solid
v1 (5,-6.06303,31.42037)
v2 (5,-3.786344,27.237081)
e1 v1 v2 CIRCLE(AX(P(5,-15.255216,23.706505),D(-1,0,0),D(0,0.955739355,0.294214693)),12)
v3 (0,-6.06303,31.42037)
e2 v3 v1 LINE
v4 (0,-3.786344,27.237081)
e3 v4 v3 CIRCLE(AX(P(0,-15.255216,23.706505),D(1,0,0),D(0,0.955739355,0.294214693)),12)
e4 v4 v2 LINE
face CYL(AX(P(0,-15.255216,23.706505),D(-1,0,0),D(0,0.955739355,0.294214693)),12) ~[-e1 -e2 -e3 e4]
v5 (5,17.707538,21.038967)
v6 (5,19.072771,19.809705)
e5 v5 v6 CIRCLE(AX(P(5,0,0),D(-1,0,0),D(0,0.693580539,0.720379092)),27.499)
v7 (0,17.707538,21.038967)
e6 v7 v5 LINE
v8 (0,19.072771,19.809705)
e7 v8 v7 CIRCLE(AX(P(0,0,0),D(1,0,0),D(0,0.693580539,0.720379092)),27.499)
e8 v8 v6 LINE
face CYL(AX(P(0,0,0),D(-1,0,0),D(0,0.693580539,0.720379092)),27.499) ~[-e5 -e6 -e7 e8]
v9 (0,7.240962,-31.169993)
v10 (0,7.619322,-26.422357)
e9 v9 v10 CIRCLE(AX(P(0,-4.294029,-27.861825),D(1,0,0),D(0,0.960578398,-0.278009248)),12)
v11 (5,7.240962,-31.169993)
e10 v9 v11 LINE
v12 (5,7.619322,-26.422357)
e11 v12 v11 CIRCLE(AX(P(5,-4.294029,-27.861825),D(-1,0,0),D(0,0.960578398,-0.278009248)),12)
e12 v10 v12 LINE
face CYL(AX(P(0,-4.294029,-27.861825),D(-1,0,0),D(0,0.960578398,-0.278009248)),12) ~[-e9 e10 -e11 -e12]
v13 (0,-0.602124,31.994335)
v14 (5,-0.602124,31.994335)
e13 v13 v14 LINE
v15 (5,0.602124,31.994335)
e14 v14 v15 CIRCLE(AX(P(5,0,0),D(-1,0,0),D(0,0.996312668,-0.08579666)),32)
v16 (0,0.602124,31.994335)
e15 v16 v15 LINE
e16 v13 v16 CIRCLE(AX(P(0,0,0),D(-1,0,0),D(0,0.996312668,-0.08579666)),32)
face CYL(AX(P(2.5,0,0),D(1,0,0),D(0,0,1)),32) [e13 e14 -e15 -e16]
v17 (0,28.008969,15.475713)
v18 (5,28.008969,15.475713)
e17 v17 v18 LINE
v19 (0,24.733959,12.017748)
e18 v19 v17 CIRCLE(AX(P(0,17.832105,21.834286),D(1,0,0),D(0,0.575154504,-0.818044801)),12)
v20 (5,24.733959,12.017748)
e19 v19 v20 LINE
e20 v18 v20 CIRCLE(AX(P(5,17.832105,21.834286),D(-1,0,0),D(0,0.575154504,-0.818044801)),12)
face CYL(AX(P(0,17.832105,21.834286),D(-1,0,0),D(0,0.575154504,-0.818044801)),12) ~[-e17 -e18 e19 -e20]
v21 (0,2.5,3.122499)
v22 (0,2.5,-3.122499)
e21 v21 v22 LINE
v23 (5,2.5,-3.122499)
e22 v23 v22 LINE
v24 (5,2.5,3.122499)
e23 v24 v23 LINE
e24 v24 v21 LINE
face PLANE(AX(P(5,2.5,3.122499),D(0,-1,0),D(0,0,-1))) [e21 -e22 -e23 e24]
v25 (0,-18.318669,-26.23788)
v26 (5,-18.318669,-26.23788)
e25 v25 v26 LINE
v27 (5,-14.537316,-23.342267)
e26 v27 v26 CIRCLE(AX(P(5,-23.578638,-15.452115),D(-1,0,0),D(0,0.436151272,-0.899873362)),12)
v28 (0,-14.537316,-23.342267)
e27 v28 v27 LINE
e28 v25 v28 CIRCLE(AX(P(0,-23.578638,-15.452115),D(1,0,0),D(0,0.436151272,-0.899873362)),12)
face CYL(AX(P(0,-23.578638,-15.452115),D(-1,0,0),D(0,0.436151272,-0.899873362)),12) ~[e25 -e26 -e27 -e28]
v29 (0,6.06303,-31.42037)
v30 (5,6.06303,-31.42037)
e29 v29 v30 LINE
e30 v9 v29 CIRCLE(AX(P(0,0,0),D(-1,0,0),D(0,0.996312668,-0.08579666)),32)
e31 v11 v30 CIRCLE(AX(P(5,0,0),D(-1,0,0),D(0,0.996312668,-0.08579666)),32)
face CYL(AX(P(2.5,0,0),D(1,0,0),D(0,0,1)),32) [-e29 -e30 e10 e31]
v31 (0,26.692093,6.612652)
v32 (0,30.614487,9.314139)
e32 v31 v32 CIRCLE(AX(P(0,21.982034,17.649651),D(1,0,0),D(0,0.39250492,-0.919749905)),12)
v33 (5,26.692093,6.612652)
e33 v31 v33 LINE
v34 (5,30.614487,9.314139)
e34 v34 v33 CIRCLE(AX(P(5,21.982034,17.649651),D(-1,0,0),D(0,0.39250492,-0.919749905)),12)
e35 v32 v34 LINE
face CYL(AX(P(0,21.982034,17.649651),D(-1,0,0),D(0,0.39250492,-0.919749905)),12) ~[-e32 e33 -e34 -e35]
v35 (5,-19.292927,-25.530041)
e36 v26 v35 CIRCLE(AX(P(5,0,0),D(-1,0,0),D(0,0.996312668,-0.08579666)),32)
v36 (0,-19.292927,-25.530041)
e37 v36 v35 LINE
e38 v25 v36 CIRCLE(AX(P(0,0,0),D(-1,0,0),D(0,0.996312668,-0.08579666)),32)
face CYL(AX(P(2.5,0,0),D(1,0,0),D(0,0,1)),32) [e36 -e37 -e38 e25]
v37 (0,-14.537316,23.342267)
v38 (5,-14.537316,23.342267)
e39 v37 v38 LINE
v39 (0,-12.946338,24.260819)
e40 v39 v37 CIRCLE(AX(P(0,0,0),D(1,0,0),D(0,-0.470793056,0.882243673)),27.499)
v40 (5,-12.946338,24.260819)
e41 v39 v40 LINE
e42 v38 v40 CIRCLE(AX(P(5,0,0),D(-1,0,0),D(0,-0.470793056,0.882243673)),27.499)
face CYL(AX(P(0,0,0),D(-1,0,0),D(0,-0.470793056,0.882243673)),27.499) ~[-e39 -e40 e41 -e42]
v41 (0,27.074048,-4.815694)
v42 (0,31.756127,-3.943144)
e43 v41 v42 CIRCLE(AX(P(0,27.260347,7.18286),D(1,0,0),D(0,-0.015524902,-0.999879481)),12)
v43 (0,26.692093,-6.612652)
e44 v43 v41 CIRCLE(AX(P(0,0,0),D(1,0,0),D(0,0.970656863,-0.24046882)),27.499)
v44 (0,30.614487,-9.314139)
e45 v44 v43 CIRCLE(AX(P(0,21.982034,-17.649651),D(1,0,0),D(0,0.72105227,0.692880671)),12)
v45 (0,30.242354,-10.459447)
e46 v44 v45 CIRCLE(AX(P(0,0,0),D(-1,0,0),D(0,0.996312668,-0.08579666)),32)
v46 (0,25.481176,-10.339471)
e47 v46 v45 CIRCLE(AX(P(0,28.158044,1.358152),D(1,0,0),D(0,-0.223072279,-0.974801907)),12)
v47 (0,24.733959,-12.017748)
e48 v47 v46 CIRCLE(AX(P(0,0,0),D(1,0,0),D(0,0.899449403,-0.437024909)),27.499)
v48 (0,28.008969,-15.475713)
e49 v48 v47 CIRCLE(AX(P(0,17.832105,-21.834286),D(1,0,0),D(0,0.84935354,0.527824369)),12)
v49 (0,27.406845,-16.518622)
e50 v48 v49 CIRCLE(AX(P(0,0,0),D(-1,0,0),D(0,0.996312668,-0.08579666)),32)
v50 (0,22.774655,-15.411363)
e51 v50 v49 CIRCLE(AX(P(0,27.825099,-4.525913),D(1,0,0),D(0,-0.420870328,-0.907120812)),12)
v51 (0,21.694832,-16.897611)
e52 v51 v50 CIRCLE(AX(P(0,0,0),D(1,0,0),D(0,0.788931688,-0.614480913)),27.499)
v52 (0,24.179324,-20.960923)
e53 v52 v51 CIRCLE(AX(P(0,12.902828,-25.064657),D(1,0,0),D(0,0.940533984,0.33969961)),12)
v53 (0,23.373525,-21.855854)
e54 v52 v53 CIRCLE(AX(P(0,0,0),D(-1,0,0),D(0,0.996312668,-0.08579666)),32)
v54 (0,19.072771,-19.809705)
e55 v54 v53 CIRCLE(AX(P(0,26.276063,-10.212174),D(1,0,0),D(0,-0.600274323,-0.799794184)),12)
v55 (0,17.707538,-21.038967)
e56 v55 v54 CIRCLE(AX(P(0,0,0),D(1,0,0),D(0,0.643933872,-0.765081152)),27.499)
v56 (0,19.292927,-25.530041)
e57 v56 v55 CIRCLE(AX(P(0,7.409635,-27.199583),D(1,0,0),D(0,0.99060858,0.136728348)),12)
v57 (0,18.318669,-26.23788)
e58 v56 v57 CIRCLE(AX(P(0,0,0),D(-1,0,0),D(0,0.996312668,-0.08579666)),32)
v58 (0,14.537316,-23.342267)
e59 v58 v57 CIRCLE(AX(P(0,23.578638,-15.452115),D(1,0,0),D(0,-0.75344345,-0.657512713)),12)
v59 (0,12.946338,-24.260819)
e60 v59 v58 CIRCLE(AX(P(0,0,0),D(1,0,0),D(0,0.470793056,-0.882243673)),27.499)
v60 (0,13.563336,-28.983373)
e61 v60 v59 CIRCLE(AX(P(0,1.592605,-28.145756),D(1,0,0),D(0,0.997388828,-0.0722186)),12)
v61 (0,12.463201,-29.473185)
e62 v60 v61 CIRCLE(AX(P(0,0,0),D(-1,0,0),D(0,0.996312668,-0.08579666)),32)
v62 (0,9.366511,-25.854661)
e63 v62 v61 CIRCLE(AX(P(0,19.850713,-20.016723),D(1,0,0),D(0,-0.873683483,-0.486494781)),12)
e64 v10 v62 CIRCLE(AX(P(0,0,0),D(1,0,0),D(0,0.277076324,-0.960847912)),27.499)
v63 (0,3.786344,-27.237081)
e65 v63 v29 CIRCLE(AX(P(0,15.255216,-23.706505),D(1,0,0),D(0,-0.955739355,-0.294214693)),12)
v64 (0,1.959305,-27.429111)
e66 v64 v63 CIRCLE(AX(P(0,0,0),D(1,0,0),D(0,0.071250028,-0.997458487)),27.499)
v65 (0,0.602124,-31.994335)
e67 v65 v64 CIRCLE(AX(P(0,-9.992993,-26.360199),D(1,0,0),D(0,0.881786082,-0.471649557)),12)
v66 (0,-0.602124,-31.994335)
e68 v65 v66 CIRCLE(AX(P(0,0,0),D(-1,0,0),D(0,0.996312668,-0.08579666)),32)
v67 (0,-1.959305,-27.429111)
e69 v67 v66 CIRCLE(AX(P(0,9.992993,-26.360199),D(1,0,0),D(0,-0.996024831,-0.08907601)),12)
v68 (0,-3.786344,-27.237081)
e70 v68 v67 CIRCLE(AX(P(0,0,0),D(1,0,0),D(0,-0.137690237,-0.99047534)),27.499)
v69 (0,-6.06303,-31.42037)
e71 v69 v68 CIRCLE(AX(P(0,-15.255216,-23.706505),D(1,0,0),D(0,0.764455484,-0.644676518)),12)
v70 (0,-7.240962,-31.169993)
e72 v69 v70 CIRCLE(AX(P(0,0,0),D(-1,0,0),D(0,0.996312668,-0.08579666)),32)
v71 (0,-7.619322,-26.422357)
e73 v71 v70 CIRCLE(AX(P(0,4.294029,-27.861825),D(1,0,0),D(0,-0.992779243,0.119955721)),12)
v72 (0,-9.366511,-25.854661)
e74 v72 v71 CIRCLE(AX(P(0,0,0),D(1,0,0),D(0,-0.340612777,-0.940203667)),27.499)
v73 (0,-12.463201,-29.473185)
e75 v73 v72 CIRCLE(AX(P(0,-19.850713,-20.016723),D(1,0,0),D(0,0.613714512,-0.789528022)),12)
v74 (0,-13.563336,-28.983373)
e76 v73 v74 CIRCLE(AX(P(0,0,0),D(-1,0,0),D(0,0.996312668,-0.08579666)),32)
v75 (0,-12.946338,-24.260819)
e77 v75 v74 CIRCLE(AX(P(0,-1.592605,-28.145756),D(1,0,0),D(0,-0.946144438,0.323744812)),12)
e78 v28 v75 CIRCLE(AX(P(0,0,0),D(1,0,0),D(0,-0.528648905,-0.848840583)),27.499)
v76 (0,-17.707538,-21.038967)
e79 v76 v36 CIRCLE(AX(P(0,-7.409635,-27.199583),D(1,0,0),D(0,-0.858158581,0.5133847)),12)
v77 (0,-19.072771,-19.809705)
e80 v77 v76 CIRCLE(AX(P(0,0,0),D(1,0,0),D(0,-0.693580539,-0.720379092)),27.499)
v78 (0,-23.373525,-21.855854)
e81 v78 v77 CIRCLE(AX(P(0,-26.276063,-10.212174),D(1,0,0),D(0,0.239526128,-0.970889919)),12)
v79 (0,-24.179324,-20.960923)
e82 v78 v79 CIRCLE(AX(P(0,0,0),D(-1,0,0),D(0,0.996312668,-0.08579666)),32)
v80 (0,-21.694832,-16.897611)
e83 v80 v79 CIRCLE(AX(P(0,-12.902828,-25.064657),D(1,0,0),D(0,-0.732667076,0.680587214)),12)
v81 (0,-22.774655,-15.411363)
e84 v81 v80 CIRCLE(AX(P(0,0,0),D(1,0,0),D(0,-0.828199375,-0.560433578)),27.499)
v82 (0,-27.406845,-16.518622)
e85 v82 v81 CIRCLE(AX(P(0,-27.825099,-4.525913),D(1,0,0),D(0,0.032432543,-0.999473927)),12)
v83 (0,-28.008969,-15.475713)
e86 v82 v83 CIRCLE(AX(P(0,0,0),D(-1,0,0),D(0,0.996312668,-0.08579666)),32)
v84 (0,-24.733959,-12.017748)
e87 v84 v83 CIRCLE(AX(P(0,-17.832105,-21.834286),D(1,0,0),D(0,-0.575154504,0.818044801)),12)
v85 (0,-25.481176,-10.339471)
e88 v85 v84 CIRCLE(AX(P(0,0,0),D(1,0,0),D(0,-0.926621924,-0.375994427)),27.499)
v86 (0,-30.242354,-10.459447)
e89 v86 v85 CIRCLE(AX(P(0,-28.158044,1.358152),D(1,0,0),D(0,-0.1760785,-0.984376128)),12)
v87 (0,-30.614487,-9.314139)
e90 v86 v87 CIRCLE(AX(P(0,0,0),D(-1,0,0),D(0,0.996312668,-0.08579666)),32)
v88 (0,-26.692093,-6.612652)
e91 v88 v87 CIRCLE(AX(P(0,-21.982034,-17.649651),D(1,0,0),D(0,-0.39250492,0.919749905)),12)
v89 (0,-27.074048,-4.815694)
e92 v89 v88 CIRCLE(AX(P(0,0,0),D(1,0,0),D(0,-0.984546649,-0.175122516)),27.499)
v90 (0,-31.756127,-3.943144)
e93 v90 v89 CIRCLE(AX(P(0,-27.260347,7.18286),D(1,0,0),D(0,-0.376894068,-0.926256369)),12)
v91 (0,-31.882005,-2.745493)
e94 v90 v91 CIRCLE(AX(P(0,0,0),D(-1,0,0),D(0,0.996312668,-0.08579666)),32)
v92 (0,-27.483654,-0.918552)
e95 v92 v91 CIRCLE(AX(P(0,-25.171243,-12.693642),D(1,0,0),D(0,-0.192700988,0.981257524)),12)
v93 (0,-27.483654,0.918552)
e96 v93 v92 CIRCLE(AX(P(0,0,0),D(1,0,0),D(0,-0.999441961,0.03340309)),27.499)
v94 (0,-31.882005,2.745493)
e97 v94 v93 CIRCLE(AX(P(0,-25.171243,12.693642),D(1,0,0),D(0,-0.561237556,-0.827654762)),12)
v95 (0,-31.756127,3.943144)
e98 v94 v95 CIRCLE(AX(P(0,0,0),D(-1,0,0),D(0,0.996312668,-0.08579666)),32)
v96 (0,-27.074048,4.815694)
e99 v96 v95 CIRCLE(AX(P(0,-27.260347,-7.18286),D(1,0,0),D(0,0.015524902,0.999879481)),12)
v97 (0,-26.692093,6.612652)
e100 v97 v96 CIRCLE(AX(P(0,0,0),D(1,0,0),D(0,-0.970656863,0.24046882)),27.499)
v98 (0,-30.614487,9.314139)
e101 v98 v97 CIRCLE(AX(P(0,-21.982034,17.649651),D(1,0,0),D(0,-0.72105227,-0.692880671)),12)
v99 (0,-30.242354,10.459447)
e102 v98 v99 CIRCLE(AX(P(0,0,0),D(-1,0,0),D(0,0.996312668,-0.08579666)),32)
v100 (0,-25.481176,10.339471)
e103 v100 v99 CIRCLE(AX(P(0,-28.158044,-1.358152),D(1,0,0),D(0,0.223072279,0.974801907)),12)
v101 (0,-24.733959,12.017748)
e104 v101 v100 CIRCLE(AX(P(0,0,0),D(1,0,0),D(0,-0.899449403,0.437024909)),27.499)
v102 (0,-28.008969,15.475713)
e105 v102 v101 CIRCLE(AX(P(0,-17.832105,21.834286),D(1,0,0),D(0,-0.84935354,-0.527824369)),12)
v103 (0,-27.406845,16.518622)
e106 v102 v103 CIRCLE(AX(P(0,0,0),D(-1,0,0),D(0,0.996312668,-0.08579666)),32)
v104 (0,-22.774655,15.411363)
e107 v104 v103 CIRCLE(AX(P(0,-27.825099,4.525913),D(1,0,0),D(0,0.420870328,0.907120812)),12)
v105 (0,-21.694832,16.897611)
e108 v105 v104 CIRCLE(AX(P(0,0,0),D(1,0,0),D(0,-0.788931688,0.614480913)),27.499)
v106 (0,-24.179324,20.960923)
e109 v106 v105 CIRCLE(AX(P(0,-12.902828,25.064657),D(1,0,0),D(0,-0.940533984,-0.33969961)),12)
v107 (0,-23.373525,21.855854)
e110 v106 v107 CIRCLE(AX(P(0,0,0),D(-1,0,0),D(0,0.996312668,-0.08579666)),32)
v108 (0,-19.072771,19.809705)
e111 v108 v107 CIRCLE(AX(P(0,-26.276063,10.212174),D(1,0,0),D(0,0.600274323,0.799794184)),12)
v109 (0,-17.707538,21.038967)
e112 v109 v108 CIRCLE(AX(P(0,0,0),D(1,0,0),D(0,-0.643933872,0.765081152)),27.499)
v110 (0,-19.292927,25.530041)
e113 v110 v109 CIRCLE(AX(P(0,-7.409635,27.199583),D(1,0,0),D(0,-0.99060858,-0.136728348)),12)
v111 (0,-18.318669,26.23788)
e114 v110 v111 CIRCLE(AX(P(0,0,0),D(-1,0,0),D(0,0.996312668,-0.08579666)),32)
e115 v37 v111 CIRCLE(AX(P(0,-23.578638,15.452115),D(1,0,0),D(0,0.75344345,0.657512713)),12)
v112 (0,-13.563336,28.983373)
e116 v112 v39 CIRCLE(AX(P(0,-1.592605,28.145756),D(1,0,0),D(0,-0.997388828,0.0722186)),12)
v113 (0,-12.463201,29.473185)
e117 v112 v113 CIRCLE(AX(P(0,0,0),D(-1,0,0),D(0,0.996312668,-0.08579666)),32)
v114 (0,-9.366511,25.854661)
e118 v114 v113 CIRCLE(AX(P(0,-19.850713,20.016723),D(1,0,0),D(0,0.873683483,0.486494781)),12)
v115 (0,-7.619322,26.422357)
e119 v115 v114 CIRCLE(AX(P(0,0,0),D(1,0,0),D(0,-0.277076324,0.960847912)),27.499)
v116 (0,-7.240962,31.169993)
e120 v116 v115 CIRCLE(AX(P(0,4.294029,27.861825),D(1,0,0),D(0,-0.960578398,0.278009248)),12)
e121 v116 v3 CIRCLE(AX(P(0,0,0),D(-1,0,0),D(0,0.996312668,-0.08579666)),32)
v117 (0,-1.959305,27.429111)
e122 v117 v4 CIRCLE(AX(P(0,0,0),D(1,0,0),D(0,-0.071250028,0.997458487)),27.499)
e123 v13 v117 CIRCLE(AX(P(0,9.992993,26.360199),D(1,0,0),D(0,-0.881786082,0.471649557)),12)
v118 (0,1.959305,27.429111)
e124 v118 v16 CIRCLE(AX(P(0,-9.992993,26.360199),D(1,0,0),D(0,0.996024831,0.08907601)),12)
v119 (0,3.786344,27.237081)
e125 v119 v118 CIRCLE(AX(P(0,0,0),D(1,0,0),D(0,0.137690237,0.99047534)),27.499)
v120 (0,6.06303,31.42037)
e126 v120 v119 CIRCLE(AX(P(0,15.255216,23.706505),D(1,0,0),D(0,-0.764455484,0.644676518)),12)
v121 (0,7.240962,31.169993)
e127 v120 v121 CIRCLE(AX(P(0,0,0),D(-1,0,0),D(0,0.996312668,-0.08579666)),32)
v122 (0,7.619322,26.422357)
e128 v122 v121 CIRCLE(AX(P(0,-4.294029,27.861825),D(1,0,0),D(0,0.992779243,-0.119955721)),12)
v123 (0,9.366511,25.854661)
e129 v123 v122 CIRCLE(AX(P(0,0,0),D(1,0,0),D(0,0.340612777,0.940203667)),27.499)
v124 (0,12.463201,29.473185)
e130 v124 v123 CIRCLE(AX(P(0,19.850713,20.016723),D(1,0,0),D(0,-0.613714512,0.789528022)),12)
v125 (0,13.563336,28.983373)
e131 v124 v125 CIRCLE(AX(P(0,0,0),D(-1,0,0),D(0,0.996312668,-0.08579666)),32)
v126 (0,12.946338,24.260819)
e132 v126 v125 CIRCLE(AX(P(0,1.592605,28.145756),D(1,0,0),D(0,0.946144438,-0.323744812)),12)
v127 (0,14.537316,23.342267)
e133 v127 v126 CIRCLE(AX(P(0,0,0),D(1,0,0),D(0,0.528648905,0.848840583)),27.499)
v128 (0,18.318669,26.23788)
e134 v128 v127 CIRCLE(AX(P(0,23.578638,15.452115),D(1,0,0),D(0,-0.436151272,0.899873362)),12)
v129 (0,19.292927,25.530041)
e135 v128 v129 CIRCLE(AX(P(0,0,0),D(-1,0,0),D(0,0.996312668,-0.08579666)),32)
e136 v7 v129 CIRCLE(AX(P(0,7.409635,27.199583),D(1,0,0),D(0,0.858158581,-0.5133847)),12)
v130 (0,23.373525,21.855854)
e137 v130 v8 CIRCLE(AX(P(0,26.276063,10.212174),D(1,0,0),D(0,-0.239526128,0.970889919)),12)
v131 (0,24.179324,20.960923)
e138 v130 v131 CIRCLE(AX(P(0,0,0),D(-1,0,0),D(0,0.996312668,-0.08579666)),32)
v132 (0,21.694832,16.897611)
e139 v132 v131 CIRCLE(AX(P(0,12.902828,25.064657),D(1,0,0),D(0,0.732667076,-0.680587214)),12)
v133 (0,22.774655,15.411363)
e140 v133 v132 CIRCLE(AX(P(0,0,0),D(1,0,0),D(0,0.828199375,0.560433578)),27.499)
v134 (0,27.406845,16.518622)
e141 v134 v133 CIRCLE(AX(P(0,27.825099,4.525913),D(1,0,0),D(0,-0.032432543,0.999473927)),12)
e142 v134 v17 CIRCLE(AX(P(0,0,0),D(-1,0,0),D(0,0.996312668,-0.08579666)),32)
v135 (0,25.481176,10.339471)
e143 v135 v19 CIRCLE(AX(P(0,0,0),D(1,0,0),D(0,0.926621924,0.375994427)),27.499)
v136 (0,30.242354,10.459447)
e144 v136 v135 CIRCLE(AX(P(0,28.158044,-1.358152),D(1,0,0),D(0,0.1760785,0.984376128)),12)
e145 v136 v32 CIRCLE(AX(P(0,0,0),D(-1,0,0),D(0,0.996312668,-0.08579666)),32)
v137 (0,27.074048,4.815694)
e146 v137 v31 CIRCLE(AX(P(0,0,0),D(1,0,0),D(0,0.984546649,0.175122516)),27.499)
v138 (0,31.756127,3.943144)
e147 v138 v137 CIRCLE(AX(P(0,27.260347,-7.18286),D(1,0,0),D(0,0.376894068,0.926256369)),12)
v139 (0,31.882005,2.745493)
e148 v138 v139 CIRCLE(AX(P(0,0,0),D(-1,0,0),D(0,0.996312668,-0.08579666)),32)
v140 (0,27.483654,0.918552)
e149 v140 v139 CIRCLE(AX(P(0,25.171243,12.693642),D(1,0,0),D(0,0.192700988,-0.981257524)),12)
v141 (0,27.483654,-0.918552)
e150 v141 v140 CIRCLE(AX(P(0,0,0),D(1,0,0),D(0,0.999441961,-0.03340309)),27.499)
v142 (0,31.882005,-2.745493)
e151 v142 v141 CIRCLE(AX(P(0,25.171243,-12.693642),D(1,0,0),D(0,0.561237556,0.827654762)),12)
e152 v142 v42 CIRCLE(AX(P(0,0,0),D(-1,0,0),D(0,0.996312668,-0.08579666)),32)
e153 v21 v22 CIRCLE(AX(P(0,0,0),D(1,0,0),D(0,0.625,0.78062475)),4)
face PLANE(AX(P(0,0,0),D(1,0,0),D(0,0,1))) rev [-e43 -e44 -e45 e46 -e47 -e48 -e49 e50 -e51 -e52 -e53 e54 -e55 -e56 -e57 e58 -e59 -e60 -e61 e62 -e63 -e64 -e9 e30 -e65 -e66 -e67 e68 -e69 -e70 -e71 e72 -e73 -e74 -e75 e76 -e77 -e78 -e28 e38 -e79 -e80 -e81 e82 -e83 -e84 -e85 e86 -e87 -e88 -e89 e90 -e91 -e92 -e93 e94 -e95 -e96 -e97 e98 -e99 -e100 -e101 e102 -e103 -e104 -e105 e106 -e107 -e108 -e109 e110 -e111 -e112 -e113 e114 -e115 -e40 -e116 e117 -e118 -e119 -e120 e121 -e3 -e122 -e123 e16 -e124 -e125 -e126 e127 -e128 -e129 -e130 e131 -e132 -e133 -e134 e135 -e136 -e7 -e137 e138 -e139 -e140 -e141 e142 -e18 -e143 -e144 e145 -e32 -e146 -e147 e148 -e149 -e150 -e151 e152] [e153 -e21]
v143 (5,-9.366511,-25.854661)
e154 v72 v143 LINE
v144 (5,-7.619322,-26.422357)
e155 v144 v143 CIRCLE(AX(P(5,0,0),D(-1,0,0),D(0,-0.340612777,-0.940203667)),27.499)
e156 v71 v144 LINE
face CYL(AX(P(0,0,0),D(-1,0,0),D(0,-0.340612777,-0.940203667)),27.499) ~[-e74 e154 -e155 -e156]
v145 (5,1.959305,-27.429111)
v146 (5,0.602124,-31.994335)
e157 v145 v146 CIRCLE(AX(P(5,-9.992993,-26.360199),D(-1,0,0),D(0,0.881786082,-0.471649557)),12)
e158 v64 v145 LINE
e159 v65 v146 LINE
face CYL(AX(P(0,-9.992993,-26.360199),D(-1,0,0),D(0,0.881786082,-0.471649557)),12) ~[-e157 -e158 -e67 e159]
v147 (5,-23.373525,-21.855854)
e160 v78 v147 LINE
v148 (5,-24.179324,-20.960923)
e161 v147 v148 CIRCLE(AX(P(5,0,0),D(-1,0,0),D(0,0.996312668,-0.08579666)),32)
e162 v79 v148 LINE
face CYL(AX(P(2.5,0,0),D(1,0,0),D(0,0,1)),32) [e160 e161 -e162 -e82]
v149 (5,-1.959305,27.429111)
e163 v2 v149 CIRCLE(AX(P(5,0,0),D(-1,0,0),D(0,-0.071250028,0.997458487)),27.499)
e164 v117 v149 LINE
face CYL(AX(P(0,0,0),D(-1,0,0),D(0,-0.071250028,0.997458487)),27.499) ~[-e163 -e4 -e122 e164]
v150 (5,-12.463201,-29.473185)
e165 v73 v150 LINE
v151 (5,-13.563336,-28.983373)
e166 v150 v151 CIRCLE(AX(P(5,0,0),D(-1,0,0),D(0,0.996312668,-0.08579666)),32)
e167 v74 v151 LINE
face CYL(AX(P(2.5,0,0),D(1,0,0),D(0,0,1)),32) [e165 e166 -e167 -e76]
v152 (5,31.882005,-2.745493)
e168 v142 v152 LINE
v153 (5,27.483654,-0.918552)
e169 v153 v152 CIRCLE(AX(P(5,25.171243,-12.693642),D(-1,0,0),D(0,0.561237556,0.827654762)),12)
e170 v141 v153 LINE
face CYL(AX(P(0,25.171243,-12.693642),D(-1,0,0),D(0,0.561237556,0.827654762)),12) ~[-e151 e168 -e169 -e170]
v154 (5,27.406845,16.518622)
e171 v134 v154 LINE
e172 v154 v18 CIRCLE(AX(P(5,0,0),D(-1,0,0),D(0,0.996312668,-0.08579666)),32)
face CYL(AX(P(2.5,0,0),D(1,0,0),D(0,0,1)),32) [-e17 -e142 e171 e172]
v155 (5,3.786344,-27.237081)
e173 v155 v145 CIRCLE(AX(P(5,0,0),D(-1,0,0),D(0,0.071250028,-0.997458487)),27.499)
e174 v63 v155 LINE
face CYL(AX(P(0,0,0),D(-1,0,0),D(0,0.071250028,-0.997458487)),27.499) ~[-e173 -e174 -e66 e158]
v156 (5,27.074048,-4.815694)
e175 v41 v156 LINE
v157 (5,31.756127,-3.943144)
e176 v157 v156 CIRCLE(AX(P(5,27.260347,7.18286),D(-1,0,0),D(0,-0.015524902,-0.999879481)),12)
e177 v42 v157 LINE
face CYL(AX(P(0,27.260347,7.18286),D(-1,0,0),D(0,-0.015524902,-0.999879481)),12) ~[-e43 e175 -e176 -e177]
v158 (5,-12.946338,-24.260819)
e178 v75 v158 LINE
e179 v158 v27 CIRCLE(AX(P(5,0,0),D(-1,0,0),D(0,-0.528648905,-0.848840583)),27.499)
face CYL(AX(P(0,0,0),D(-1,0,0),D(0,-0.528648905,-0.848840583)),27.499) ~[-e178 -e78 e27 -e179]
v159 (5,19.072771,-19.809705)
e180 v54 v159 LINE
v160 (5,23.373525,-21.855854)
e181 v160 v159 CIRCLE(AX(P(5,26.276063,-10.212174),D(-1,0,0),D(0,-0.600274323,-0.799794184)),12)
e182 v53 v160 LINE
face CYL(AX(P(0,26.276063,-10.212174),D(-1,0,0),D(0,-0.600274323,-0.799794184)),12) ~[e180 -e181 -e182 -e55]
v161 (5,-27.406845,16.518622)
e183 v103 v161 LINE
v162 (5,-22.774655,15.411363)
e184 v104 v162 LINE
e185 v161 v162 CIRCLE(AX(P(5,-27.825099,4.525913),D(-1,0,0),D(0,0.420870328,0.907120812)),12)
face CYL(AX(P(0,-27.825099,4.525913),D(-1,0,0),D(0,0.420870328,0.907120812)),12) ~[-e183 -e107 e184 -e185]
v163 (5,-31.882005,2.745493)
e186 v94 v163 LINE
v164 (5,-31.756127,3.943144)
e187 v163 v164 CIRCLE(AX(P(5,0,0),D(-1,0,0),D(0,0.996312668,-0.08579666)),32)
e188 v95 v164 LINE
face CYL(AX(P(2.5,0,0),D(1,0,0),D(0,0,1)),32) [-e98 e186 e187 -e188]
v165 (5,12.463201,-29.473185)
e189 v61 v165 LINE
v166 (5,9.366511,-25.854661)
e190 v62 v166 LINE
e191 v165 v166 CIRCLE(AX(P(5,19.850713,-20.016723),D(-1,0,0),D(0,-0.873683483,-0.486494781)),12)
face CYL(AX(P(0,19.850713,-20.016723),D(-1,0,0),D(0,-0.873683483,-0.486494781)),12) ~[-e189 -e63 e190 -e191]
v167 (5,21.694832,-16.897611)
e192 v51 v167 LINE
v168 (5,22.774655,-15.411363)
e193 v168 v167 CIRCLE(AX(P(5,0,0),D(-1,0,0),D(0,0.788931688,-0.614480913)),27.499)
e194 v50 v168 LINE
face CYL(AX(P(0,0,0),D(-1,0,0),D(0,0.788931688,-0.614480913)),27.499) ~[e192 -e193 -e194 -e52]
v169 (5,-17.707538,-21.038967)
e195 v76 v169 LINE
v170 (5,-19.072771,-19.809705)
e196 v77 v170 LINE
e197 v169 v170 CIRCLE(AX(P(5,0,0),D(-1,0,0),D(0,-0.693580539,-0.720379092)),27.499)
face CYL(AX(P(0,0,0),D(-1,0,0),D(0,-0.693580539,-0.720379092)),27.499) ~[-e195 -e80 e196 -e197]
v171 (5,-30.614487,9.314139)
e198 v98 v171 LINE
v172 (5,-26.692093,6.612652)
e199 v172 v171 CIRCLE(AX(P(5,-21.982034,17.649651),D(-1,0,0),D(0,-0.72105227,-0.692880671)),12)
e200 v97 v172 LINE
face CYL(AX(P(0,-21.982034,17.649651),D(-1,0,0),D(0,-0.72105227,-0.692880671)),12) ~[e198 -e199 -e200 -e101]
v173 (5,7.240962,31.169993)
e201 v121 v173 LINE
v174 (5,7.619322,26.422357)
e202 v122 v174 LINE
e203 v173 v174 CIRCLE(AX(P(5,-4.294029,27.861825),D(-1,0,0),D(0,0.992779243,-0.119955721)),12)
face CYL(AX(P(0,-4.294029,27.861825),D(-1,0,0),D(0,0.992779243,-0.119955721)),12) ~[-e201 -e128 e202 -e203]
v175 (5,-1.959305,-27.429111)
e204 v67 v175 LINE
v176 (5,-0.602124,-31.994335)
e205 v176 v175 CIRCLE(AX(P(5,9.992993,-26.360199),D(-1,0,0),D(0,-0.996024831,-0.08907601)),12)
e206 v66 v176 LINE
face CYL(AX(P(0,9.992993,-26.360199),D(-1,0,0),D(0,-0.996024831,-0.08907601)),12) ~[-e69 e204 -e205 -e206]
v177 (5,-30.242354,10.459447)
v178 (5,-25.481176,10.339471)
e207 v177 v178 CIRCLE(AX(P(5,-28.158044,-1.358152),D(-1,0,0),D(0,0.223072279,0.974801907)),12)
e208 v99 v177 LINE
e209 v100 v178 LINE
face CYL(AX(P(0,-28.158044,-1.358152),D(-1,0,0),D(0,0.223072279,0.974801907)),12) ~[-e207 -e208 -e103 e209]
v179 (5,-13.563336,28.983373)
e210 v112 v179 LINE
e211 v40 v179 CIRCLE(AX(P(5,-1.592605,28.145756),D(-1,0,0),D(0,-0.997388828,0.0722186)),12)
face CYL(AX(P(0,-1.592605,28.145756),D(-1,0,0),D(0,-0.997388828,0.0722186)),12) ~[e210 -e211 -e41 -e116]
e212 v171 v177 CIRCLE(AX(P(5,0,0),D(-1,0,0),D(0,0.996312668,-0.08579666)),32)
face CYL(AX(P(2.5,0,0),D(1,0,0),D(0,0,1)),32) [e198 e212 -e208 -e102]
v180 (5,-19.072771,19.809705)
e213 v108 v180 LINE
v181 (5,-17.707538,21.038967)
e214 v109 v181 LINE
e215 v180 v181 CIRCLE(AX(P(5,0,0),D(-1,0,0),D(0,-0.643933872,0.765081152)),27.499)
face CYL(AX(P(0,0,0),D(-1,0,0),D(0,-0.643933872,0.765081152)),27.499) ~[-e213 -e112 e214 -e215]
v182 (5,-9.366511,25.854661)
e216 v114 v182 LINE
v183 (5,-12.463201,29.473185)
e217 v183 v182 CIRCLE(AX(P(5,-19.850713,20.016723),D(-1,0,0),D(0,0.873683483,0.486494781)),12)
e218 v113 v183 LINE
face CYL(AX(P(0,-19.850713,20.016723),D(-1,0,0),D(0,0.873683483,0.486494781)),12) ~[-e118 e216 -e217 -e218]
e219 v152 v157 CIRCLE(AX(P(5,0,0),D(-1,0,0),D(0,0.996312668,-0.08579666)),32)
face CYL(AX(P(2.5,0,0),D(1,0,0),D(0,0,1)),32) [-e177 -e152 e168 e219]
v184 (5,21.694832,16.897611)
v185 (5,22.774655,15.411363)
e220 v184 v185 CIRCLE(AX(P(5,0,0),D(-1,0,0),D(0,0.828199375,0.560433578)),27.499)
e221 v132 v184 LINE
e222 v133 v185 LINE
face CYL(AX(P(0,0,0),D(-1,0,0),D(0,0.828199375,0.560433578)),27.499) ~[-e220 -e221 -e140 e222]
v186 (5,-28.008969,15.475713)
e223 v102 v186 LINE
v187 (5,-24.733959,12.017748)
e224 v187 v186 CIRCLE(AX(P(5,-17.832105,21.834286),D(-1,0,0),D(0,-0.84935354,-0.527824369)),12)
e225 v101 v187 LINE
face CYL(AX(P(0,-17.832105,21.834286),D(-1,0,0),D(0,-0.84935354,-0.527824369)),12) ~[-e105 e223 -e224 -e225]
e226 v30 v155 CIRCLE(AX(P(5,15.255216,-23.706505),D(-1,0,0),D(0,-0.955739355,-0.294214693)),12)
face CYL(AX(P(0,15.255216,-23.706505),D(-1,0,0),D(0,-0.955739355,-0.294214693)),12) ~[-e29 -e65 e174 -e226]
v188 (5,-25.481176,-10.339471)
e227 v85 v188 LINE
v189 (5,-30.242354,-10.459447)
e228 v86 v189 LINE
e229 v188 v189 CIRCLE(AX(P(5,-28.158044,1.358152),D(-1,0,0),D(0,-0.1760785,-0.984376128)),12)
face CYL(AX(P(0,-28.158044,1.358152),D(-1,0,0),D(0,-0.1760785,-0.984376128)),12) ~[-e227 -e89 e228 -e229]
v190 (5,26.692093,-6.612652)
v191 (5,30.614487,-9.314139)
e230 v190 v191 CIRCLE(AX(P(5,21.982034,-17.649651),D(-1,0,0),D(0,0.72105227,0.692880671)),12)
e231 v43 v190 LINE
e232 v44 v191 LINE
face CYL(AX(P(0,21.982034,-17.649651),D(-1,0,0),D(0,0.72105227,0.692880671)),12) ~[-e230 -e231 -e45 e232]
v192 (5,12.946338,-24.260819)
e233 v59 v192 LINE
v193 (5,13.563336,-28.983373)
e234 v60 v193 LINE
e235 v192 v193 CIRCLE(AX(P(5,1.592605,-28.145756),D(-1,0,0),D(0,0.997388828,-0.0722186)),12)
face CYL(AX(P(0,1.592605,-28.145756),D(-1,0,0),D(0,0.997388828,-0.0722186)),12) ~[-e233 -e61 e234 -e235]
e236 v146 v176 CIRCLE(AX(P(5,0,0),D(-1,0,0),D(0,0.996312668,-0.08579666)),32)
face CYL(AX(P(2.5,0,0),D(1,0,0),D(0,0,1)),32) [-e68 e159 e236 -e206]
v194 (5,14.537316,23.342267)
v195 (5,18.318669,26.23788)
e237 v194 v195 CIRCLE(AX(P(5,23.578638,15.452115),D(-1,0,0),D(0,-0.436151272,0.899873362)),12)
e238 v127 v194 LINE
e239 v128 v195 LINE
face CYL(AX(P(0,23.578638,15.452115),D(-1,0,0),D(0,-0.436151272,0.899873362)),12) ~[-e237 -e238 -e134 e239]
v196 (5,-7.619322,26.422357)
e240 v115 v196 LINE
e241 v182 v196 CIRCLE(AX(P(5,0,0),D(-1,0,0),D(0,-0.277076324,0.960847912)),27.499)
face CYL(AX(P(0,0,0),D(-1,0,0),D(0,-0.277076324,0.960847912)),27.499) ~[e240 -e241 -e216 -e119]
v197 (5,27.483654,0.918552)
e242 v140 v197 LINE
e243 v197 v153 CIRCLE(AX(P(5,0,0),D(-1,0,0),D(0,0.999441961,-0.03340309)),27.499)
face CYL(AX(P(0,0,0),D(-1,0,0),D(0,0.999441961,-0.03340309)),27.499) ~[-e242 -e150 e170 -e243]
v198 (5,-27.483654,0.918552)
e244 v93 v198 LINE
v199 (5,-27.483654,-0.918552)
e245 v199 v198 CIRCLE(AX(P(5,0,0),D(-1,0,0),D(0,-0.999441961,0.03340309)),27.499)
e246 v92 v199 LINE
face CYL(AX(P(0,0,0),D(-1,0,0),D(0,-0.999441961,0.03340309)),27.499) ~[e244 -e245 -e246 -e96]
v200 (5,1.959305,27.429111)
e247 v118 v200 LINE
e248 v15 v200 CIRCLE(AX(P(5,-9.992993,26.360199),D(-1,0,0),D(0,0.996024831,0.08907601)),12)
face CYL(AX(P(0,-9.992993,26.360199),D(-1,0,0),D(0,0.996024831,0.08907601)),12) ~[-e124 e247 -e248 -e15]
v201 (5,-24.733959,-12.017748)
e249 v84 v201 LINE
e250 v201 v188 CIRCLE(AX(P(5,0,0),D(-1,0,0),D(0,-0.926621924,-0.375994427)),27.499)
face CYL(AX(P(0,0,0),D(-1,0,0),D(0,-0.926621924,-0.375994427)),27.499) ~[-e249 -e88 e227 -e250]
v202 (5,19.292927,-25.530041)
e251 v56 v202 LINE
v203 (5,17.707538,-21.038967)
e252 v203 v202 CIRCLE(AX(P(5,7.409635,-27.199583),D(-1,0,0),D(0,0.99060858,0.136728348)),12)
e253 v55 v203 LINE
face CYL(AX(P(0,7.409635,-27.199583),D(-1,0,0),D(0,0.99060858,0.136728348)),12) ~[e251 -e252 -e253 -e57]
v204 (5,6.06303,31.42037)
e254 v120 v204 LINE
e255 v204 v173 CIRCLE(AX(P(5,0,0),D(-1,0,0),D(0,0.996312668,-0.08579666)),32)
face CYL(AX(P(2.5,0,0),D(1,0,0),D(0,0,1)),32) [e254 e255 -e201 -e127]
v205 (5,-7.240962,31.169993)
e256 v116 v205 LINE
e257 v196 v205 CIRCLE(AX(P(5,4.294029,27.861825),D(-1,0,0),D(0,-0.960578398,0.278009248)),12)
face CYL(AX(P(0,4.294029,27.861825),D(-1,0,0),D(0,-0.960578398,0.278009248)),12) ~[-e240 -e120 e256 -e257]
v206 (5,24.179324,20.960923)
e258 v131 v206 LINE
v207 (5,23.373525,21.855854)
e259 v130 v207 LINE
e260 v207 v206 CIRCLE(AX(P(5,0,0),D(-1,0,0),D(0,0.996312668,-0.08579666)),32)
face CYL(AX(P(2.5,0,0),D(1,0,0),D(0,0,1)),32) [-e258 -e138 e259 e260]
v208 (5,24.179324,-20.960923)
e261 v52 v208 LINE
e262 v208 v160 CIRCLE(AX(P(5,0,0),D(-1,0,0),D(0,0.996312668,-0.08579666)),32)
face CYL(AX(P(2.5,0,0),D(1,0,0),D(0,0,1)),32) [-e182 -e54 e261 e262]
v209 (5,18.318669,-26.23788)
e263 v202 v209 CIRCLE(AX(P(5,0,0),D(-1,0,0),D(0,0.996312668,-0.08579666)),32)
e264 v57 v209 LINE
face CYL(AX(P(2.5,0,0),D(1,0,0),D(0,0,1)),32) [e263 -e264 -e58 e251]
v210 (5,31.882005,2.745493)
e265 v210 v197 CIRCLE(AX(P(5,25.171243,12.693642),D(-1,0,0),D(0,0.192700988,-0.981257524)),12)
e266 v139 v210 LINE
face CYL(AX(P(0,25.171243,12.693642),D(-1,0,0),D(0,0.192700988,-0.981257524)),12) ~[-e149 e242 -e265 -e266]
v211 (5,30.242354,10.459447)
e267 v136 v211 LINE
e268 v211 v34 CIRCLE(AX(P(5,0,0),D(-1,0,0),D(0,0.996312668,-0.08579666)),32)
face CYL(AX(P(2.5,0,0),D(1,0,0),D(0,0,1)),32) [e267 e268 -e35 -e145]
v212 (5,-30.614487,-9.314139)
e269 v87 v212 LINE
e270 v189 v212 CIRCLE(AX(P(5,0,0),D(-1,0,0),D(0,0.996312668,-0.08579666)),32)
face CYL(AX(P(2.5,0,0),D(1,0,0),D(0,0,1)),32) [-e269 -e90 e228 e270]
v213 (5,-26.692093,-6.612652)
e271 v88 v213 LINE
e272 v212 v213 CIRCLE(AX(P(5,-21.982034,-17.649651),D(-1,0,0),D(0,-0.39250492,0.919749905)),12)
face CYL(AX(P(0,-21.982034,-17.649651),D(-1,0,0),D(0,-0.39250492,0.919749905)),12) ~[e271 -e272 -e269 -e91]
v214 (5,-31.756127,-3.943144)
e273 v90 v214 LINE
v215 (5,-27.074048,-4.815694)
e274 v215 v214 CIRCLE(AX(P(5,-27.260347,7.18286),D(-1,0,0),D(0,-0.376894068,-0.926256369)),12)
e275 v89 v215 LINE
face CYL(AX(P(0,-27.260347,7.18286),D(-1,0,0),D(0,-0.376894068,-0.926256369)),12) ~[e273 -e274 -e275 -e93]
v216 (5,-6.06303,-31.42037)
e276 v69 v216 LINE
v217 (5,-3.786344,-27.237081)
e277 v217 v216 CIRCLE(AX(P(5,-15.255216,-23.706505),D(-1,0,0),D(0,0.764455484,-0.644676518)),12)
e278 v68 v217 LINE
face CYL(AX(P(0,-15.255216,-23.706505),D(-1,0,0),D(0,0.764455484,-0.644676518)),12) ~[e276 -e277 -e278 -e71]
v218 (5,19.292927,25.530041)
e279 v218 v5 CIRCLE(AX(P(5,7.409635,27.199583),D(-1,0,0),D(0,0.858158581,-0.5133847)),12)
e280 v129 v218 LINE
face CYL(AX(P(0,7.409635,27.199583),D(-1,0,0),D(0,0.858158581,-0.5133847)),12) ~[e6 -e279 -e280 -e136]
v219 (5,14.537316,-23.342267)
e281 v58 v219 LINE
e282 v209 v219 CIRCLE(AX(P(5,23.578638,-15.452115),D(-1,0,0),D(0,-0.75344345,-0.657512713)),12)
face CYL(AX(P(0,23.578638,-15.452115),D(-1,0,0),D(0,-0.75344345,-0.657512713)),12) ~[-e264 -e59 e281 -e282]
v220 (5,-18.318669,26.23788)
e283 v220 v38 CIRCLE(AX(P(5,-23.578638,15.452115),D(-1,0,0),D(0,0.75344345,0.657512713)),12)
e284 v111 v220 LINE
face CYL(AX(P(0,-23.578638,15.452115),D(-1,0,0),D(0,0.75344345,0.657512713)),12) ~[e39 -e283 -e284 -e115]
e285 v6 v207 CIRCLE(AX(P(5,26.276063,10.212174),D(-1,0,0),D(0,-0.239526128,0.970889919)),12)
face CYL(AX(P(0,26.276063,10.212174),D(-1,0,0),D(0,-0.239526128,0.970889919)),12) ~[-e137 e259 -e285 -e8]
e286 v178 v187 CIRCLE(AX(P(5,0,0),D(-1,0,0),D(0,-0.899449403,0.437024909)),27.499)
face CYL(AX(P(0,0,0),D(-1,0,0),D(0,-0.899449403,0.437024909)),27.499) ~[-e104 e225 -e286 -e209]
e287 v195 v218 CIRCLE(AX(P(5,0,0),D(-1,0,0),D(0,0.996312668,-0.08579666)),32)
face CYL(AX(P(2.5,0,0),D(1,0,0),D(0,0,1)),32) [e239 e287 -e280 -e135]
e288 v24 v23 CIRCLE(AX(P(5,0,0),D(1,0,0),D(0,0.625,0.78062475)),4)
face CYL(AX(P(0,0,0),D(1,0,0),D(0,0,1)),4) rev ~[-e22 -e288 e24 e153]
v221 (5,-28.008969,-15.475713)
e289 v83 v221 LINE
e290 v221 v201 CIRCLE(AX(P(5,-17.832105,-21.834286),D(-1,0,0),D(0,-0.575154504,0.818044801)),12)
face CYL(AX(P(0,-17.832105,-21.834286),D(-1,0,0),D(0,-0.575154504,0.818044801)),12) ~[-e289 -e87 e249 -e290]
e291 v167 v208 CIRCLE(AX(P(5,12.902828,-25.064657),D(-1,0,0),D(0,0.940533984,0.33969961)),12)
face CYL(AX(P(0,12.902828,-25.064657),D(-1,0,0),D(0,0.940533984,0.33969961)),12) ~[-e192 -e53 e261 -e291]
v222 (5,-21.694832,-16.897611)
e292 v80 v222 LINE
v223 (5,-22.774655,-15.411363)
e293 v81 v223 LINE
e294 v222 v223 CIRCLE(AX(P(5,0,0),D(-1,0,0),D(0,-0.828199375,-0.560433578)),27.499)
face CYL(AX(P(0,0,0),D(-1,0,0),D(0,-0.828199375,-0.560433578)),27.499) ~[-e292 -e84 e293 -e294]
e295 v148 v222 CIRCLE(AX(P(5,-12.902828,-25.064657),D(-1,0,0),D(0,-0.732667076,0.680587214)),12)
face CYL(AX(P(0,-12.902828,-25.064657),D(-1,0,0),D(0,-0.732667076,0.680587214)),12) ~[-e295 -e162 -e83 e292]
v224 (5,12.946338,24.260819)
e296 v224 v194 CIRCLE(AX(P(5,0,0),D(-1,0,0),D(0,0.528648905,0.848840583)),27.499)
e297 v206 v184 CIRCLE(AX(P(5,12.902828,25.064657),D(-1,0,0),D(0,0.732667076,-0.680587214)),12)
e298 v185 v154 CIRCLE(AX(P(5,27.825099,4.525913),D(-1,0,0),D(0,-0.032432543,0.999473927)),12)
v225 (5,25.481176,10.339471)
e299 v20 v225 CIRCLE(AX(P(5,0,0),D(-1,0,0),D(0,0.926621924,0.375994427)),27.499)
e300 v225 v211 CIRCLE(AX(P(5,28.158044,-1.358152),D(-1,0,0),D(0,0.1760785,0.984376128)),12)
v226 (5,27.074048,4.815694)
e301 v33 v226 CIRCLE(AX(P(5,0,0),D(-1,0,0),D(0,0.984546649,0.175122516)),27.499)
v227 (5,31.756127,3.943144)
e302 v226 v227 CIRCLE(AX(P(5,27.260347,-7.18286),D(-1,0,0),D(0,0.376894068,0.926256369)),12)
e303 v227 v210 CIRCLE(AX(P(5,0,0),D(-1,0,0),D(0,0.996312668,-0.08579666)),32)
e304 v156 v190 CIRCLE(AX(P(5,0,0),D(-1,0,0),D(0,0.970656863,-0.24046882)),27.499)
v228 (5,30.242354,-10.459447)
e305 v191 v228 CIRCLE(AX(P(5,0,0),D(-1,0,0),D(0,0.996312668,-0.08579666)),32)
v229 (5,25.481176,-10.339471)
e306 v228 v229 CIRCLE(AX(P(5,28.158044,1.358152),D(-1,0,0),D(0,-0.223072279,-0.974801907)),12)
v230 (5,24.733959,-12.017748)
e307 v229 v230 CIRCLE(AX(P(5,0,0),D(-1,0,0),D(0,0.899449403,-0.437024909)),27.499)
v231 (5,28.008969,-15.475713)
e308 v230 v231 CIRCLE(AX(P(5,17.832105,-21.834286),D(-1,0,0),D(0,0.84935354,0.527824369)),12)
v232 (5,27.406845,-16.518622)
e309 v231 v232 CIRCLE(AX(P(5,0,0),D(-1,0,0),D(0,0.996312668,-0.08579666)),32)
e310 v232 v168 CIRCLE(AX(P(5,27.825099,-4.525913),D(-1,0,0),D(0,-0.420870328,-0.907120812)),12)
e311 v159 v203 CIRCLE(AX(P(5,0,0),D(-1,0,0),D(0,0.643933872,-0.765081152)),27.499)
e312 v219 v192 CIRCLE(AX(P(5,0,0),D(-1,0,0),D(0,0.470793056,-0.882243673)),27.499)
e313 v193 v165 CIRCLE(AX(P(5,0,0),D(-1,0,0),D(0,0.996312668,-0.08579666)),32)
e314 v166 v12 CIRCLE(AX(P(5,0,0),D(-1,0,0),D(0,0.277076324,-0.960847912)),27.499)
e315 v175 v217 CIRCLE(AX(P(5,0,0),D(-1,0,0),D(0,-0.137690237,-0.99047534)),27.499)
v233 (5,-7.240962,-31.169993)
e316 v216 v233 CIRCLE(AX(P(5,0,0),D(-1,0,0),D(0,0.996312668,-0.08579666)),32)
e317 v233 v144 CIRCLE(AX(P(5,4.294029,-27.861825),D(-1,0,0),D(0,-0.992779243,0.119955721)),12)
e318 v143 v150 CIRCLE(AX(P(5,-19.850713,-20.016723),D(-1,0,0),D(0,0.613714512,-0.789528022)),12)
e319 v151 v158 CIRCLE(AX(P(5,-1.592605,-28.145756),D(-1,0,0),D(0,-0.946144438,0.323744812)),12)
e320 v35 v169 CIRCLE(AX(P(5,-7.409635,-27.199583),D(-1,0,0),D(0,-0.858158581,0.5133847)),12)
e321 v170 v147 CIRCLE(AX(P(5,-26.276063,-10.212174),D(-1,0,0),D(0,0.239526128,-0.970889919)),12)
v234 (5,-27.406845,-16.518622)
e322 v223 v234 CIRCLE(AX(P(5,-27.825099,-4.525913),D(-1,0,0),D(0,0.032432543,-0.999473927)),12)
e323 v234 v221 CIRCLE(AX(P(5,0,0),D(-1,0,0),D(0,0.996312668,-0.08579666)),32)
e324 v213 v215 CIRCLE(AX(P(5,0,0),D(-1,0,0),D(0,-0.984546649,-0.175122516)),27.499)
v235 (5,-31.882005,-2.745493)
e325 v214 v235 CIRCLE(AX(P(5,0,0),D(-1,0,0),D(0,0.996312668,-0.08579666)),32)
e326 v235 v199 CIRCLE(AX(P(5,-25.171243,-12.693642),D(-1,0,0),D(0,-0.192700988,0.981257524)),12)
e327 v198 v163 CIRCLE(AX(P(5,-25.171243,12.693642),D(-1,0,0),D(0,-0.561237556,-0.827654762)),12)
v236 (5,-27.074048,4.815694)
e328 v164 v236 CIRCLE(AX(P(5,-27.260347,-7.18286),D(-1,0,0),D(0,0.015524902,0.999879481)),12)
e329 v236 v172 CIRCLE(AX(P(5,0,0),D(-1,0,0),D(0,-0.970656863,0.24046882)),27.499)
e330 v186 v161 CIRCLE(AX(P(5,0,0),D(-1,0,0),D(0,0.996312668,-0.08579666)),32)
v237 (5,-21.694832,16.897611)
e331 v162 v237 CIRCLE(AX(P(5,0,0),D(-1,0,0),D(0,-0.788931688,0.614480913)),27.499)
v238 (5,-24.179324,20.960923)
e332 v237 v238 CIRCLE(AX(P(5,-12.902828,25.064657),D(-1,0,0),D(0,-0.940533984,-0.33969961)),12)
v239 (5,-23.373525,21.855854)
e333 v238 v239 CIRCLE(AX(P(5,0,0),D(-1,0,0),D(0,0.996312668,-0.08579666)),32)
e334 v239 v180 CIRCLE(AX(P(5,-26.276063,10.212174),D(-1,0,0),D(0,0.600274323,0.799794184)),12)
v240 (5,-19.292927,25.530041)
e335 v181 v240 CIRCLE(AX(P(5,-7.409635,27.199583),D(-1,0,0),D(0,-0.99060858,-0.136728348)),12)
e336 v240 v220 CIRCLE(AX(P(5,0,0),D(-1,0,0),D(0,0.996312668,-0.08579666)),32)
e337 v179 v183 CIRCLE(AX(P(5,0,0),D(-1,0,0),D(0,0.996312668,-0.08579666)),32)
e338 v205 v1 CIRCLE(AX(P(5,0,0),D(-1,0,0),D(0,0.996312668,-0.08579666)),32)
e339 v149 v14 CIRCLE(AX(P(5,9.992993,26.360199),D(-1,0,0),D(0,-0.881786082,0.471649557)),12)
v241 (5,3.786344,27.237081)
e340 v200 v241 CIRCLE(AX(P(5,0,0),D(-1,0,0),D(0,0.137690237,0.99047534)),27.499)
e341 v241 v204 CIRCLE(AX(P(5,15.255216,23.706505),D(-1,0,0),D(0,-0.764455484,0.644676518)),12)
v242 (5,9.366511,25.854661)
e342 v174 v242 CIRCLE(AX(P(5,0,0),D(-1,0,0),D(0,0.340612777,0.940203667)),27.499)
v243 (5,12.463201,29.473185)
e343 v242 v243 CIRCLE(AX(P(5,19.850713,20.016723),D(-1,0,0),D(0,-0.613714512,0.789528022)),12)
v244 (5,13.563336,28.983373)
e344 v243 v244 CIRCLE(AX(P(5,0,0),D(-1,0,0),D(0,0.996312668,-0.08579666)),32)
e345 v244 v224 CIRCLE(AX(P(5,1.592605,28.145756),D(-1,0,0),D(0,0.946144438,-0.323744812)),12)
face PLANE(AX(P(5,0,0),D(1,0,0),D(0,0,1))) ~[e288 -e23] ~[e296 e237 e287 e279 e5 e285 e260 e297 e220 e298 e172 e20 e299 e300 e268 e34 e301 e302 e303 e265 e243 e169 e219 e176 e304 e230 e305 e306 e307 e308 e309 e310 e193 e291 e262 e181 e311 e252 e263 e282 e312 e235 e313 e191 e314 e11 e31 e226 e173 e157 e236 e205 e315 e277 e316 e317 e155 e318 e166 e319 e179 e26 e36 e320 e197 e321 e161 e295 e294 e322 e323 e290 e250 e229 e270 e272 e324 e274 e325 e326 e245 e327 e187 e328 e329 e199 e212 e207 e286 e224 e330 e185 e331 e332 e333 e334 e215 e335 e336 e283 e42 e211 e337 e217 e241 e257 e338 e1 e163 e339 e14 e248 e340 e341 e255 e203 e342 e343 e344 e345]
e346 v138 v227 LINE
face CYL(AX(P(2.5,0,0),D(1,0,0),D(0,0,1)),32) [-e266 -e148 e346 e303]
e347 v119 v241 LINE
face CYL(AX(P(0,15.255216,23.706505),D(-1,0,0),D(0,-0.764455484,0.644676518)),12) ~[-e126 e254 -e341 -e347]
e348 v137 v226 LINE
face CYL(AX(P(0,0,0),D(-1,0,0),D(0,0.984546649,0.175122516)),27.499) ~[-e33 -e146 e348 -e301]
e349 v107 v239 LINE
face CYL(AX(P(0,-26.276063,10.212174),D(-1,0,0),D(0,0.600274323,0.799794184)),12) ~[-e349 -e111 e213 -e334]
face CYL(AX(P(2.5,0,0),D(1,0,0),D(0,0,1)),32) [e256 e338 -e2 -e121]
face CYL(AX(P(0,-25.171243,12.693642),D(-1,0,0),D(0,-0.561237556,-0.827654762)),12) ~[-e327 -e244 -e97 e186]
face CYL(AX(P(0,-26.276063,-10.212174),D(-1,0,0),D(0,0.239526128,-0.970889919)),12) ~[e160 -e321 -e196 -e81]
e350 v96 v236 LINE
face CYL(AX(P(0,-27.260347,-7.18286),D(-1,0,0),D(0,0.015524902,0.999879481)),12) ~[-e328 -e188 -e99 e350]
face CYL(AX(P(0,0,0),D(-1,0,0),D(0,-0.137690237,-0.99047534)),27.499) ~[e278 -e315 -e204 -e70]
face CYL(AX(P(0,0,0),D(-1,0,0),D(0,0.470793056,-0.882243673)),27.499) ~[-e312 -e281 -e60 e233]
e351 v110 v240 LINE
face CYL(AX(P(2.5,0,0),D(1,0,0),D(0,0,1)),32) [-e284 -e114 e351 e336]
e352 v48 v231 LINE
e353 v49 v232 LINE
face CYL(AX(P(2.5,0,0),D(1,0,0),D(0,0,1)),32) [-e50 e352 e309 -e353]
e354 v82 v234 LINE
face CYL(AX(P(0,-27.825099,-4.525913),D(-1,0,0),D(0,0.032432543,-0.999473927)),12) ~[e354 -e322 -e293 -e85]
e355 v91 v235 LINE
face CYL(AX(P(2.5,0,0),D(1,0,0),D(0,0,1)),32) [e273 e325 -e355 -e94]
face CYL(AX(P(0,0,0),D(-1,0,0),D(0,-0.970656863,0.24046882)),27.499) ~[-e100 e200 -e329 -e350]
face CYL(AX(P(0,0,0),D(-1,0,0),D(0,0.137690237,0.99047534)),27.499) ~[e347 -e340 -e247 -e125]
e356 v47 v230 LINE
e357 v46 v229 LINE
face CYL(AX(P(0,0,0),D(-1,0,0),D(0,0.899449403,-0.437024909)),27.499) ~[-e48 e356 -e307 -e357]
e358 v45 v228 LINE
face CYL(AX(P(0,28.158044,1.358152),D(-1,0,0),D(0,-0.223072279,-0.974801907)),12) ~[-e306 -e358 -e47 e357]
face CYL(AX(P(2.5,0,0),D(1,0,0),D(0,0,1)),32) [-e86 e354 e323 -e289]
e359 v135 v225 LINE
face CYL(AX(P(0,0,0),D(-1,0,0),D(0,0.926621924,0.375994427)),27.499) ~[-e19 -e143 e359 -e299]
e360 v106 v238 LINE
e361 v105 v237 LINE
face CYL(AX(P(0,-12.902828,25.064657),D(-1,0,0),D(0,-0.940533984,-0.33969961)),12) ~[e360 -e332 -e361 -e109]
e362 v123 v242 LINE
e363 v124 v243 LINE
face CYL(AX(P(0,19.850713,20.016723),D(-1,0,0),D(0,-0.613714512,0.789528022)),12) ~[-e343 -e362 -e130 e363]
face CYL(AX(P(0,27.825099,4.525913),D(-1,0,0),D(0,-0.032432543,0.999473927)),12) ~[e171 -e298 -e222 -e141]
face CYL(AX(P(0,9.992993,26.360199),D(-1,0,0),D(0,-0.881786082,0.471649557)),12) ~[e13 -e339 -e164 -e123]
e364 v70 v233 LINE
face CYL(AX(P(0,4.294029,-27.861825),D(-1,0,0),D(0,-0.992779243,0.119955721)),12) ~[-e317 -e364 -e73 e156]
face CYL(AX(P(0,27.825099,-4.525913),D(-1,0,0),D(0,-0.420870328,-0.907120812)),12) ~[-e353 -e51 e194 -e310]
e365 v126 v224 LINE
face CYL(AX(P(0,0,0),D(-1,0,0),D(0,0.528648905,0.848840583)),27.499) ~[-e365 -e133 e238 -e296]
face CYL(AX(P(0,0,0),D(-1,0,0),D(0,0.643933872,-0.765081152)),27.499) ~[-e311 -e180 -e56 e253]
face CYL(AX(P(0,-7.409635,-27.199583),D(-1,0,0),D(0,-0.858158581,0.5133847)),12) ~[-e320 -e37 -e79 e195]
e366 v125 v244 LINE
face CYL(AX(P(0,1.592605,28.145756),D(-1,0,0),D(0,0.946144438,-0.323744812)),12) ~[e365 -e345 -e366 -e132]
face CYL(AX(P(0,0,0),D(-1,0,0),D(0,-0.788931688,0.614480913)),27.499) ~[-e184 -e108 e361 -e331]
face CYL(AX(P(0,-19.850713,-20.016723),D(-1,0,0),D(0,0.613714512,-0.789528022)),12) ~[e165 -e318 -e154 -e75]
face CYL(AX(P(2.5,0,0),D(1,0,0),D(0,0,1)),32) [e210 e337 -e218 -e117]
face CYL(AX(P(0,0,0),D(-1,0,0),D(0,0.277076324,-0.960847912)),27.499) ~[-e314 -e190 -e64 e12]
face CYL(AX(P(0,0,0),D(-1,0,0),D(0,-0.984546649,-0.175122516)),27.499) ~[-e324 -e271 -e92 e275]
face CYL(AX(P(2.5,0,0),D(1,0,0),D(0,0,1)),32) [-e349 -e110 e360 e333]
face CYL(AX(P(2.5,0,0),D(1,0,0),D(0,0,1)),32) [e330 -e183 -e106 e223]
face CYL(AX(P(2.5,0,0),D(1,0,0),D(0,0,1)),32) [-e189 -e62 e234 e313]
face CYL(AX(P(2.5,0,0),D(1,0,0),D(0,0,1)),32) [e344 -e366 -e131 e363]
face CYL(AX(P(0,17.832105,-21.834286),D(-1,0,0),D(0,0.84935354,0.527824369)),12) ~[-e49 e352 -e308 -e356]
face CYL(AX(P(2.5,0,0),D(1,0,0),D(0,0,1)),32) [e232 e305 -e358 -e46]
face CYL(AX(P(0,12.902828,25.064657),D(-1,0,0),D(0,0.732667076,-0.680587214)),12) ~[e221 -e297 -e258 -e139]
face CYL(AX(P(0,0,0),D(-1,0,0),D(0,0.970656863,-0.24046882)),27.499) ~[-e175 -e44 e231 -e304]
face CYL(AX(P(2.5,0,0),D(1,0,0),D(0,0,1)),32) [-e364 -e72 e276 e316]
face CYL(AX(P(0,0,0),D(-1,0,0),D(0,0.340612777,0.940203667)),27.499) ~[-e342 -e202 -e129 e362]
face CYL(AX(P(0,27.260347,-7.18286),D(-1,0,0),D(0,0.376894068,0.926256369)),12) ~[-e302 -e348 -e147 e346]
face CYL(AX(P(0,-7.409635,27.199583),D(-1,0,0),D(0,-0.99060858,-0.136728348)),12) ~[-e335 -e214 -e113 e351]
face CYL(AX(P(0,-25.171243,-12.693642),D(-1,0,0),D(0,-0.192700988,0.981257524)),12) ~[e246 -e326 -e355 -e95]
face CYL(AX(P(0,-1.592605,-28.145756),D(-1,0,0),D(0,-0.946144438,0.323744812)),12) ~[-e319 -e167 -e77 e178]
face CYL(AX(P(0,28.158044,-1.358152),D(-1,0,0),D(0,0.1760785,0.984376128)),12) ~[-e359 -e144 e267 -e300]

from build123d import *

# Parameters (mm, degrees)
BASPROSKE_W         = 5
BASPROSKE_H         = 32
TOOTHCUT_DEPTH      = 46.530209751
TEETHCUTS_COUNT     = 30
TEETHCUTS_ANGLE     = 348
BORSKE_R            = 4
BORE_DEPTH          = 50.0000508
BOSS_EXTRUDE1_DEPTH = 5


with BuildPart() as part:
    # BasProSke → Base-Revolve (revolve)
    with BuildSketch(Plane(origin=(0, 0, 0), x_dir=(1, 0, 0), z_dir=(0, 1, 0)), mode=Mode.PRIVATE) as base_revolve_sk:
        with Locations((2.5, 16)):
            Rectangle(BASPROSKE_W, BASPROSKE_H)
    revolve(base_revolve_sk.sketch.rotate(Axis((-10, 0, 0), (1, 0, 0)), 180), axis=Axis((-10, 0, 0), (1, 0, 0)))

    # TooCutSke → ToothCut (cut, through all)
    with BuildSketch(Plane(origin=(0, 0, 0), x_dir=(0, 0, -1), z_dir=(1, 0, 0))):
        with BuildLine():
            ThreePointArc((0.918551563, 27.483654488), (0, 27.499), (-0.918551563, 27.483654488))
            ThreePointArc((-0.918551563, 27.483654488), (-1.617208176, 29.787801627), (-2.761784709, 31.906093311))
            ThreePointArc((-2.761784709, 31.906093311), (0, 32.0254), (2.761784709, 31.906093311))
            ThreePointArc((2.761784709, 31.906093311), (1.617208176, 29.787801627), (0.918551563, 27.483654488))
        make_face()
    toothcut = extrude(amount=TOOTHCUT_DEPTH, mode=Mode.SUBTRACT)

    # TeethCuts: ToothCut ×30 about axis
    teethcuts_axis = Axis((-10, 0, 0), (1, 0, 0))
    for i in range(1, TEETHCUTS_COUNT):
        add(toothcut.rotate(teethcuts_axis, i * TEETHCUTS_ANGLE / (TEETHCUTS_COUNT - 1)), mode=Mode.SUBTRACT)

    # BorSke → Bore (cut, symmetric)
    with BuildSketch(Plane(origin=(0, 0, 0), x_dir=(0, 0, -1), z_dir=(1, 0, 0))):
        with Locations(Location((0, 0, 0), (0, 0, 180))):
            Circle(BORSKE_R)
    extrude(amount=BORE_DEPTH, both=True, mode=Mode.SUBTRACT)

    # Sketch1 → Boss-Extrude1 (add)
    with BuildSketch(Plane(origin=(5, 0, 0), x_dir=(0, 0, -1), z_dir=(1, 0, 0))):
        with BuildLine():
            Line((-3.122498999, 2.5), (3.122498999, 2.5))
            ThreePointArc((3.122498999, 2.5), (0, 4), (-3.122498999, 2.5))
        make_face()
    extrude(amount=-BOSS_EXTRUDE1_DEPTH)


solid = part.part
